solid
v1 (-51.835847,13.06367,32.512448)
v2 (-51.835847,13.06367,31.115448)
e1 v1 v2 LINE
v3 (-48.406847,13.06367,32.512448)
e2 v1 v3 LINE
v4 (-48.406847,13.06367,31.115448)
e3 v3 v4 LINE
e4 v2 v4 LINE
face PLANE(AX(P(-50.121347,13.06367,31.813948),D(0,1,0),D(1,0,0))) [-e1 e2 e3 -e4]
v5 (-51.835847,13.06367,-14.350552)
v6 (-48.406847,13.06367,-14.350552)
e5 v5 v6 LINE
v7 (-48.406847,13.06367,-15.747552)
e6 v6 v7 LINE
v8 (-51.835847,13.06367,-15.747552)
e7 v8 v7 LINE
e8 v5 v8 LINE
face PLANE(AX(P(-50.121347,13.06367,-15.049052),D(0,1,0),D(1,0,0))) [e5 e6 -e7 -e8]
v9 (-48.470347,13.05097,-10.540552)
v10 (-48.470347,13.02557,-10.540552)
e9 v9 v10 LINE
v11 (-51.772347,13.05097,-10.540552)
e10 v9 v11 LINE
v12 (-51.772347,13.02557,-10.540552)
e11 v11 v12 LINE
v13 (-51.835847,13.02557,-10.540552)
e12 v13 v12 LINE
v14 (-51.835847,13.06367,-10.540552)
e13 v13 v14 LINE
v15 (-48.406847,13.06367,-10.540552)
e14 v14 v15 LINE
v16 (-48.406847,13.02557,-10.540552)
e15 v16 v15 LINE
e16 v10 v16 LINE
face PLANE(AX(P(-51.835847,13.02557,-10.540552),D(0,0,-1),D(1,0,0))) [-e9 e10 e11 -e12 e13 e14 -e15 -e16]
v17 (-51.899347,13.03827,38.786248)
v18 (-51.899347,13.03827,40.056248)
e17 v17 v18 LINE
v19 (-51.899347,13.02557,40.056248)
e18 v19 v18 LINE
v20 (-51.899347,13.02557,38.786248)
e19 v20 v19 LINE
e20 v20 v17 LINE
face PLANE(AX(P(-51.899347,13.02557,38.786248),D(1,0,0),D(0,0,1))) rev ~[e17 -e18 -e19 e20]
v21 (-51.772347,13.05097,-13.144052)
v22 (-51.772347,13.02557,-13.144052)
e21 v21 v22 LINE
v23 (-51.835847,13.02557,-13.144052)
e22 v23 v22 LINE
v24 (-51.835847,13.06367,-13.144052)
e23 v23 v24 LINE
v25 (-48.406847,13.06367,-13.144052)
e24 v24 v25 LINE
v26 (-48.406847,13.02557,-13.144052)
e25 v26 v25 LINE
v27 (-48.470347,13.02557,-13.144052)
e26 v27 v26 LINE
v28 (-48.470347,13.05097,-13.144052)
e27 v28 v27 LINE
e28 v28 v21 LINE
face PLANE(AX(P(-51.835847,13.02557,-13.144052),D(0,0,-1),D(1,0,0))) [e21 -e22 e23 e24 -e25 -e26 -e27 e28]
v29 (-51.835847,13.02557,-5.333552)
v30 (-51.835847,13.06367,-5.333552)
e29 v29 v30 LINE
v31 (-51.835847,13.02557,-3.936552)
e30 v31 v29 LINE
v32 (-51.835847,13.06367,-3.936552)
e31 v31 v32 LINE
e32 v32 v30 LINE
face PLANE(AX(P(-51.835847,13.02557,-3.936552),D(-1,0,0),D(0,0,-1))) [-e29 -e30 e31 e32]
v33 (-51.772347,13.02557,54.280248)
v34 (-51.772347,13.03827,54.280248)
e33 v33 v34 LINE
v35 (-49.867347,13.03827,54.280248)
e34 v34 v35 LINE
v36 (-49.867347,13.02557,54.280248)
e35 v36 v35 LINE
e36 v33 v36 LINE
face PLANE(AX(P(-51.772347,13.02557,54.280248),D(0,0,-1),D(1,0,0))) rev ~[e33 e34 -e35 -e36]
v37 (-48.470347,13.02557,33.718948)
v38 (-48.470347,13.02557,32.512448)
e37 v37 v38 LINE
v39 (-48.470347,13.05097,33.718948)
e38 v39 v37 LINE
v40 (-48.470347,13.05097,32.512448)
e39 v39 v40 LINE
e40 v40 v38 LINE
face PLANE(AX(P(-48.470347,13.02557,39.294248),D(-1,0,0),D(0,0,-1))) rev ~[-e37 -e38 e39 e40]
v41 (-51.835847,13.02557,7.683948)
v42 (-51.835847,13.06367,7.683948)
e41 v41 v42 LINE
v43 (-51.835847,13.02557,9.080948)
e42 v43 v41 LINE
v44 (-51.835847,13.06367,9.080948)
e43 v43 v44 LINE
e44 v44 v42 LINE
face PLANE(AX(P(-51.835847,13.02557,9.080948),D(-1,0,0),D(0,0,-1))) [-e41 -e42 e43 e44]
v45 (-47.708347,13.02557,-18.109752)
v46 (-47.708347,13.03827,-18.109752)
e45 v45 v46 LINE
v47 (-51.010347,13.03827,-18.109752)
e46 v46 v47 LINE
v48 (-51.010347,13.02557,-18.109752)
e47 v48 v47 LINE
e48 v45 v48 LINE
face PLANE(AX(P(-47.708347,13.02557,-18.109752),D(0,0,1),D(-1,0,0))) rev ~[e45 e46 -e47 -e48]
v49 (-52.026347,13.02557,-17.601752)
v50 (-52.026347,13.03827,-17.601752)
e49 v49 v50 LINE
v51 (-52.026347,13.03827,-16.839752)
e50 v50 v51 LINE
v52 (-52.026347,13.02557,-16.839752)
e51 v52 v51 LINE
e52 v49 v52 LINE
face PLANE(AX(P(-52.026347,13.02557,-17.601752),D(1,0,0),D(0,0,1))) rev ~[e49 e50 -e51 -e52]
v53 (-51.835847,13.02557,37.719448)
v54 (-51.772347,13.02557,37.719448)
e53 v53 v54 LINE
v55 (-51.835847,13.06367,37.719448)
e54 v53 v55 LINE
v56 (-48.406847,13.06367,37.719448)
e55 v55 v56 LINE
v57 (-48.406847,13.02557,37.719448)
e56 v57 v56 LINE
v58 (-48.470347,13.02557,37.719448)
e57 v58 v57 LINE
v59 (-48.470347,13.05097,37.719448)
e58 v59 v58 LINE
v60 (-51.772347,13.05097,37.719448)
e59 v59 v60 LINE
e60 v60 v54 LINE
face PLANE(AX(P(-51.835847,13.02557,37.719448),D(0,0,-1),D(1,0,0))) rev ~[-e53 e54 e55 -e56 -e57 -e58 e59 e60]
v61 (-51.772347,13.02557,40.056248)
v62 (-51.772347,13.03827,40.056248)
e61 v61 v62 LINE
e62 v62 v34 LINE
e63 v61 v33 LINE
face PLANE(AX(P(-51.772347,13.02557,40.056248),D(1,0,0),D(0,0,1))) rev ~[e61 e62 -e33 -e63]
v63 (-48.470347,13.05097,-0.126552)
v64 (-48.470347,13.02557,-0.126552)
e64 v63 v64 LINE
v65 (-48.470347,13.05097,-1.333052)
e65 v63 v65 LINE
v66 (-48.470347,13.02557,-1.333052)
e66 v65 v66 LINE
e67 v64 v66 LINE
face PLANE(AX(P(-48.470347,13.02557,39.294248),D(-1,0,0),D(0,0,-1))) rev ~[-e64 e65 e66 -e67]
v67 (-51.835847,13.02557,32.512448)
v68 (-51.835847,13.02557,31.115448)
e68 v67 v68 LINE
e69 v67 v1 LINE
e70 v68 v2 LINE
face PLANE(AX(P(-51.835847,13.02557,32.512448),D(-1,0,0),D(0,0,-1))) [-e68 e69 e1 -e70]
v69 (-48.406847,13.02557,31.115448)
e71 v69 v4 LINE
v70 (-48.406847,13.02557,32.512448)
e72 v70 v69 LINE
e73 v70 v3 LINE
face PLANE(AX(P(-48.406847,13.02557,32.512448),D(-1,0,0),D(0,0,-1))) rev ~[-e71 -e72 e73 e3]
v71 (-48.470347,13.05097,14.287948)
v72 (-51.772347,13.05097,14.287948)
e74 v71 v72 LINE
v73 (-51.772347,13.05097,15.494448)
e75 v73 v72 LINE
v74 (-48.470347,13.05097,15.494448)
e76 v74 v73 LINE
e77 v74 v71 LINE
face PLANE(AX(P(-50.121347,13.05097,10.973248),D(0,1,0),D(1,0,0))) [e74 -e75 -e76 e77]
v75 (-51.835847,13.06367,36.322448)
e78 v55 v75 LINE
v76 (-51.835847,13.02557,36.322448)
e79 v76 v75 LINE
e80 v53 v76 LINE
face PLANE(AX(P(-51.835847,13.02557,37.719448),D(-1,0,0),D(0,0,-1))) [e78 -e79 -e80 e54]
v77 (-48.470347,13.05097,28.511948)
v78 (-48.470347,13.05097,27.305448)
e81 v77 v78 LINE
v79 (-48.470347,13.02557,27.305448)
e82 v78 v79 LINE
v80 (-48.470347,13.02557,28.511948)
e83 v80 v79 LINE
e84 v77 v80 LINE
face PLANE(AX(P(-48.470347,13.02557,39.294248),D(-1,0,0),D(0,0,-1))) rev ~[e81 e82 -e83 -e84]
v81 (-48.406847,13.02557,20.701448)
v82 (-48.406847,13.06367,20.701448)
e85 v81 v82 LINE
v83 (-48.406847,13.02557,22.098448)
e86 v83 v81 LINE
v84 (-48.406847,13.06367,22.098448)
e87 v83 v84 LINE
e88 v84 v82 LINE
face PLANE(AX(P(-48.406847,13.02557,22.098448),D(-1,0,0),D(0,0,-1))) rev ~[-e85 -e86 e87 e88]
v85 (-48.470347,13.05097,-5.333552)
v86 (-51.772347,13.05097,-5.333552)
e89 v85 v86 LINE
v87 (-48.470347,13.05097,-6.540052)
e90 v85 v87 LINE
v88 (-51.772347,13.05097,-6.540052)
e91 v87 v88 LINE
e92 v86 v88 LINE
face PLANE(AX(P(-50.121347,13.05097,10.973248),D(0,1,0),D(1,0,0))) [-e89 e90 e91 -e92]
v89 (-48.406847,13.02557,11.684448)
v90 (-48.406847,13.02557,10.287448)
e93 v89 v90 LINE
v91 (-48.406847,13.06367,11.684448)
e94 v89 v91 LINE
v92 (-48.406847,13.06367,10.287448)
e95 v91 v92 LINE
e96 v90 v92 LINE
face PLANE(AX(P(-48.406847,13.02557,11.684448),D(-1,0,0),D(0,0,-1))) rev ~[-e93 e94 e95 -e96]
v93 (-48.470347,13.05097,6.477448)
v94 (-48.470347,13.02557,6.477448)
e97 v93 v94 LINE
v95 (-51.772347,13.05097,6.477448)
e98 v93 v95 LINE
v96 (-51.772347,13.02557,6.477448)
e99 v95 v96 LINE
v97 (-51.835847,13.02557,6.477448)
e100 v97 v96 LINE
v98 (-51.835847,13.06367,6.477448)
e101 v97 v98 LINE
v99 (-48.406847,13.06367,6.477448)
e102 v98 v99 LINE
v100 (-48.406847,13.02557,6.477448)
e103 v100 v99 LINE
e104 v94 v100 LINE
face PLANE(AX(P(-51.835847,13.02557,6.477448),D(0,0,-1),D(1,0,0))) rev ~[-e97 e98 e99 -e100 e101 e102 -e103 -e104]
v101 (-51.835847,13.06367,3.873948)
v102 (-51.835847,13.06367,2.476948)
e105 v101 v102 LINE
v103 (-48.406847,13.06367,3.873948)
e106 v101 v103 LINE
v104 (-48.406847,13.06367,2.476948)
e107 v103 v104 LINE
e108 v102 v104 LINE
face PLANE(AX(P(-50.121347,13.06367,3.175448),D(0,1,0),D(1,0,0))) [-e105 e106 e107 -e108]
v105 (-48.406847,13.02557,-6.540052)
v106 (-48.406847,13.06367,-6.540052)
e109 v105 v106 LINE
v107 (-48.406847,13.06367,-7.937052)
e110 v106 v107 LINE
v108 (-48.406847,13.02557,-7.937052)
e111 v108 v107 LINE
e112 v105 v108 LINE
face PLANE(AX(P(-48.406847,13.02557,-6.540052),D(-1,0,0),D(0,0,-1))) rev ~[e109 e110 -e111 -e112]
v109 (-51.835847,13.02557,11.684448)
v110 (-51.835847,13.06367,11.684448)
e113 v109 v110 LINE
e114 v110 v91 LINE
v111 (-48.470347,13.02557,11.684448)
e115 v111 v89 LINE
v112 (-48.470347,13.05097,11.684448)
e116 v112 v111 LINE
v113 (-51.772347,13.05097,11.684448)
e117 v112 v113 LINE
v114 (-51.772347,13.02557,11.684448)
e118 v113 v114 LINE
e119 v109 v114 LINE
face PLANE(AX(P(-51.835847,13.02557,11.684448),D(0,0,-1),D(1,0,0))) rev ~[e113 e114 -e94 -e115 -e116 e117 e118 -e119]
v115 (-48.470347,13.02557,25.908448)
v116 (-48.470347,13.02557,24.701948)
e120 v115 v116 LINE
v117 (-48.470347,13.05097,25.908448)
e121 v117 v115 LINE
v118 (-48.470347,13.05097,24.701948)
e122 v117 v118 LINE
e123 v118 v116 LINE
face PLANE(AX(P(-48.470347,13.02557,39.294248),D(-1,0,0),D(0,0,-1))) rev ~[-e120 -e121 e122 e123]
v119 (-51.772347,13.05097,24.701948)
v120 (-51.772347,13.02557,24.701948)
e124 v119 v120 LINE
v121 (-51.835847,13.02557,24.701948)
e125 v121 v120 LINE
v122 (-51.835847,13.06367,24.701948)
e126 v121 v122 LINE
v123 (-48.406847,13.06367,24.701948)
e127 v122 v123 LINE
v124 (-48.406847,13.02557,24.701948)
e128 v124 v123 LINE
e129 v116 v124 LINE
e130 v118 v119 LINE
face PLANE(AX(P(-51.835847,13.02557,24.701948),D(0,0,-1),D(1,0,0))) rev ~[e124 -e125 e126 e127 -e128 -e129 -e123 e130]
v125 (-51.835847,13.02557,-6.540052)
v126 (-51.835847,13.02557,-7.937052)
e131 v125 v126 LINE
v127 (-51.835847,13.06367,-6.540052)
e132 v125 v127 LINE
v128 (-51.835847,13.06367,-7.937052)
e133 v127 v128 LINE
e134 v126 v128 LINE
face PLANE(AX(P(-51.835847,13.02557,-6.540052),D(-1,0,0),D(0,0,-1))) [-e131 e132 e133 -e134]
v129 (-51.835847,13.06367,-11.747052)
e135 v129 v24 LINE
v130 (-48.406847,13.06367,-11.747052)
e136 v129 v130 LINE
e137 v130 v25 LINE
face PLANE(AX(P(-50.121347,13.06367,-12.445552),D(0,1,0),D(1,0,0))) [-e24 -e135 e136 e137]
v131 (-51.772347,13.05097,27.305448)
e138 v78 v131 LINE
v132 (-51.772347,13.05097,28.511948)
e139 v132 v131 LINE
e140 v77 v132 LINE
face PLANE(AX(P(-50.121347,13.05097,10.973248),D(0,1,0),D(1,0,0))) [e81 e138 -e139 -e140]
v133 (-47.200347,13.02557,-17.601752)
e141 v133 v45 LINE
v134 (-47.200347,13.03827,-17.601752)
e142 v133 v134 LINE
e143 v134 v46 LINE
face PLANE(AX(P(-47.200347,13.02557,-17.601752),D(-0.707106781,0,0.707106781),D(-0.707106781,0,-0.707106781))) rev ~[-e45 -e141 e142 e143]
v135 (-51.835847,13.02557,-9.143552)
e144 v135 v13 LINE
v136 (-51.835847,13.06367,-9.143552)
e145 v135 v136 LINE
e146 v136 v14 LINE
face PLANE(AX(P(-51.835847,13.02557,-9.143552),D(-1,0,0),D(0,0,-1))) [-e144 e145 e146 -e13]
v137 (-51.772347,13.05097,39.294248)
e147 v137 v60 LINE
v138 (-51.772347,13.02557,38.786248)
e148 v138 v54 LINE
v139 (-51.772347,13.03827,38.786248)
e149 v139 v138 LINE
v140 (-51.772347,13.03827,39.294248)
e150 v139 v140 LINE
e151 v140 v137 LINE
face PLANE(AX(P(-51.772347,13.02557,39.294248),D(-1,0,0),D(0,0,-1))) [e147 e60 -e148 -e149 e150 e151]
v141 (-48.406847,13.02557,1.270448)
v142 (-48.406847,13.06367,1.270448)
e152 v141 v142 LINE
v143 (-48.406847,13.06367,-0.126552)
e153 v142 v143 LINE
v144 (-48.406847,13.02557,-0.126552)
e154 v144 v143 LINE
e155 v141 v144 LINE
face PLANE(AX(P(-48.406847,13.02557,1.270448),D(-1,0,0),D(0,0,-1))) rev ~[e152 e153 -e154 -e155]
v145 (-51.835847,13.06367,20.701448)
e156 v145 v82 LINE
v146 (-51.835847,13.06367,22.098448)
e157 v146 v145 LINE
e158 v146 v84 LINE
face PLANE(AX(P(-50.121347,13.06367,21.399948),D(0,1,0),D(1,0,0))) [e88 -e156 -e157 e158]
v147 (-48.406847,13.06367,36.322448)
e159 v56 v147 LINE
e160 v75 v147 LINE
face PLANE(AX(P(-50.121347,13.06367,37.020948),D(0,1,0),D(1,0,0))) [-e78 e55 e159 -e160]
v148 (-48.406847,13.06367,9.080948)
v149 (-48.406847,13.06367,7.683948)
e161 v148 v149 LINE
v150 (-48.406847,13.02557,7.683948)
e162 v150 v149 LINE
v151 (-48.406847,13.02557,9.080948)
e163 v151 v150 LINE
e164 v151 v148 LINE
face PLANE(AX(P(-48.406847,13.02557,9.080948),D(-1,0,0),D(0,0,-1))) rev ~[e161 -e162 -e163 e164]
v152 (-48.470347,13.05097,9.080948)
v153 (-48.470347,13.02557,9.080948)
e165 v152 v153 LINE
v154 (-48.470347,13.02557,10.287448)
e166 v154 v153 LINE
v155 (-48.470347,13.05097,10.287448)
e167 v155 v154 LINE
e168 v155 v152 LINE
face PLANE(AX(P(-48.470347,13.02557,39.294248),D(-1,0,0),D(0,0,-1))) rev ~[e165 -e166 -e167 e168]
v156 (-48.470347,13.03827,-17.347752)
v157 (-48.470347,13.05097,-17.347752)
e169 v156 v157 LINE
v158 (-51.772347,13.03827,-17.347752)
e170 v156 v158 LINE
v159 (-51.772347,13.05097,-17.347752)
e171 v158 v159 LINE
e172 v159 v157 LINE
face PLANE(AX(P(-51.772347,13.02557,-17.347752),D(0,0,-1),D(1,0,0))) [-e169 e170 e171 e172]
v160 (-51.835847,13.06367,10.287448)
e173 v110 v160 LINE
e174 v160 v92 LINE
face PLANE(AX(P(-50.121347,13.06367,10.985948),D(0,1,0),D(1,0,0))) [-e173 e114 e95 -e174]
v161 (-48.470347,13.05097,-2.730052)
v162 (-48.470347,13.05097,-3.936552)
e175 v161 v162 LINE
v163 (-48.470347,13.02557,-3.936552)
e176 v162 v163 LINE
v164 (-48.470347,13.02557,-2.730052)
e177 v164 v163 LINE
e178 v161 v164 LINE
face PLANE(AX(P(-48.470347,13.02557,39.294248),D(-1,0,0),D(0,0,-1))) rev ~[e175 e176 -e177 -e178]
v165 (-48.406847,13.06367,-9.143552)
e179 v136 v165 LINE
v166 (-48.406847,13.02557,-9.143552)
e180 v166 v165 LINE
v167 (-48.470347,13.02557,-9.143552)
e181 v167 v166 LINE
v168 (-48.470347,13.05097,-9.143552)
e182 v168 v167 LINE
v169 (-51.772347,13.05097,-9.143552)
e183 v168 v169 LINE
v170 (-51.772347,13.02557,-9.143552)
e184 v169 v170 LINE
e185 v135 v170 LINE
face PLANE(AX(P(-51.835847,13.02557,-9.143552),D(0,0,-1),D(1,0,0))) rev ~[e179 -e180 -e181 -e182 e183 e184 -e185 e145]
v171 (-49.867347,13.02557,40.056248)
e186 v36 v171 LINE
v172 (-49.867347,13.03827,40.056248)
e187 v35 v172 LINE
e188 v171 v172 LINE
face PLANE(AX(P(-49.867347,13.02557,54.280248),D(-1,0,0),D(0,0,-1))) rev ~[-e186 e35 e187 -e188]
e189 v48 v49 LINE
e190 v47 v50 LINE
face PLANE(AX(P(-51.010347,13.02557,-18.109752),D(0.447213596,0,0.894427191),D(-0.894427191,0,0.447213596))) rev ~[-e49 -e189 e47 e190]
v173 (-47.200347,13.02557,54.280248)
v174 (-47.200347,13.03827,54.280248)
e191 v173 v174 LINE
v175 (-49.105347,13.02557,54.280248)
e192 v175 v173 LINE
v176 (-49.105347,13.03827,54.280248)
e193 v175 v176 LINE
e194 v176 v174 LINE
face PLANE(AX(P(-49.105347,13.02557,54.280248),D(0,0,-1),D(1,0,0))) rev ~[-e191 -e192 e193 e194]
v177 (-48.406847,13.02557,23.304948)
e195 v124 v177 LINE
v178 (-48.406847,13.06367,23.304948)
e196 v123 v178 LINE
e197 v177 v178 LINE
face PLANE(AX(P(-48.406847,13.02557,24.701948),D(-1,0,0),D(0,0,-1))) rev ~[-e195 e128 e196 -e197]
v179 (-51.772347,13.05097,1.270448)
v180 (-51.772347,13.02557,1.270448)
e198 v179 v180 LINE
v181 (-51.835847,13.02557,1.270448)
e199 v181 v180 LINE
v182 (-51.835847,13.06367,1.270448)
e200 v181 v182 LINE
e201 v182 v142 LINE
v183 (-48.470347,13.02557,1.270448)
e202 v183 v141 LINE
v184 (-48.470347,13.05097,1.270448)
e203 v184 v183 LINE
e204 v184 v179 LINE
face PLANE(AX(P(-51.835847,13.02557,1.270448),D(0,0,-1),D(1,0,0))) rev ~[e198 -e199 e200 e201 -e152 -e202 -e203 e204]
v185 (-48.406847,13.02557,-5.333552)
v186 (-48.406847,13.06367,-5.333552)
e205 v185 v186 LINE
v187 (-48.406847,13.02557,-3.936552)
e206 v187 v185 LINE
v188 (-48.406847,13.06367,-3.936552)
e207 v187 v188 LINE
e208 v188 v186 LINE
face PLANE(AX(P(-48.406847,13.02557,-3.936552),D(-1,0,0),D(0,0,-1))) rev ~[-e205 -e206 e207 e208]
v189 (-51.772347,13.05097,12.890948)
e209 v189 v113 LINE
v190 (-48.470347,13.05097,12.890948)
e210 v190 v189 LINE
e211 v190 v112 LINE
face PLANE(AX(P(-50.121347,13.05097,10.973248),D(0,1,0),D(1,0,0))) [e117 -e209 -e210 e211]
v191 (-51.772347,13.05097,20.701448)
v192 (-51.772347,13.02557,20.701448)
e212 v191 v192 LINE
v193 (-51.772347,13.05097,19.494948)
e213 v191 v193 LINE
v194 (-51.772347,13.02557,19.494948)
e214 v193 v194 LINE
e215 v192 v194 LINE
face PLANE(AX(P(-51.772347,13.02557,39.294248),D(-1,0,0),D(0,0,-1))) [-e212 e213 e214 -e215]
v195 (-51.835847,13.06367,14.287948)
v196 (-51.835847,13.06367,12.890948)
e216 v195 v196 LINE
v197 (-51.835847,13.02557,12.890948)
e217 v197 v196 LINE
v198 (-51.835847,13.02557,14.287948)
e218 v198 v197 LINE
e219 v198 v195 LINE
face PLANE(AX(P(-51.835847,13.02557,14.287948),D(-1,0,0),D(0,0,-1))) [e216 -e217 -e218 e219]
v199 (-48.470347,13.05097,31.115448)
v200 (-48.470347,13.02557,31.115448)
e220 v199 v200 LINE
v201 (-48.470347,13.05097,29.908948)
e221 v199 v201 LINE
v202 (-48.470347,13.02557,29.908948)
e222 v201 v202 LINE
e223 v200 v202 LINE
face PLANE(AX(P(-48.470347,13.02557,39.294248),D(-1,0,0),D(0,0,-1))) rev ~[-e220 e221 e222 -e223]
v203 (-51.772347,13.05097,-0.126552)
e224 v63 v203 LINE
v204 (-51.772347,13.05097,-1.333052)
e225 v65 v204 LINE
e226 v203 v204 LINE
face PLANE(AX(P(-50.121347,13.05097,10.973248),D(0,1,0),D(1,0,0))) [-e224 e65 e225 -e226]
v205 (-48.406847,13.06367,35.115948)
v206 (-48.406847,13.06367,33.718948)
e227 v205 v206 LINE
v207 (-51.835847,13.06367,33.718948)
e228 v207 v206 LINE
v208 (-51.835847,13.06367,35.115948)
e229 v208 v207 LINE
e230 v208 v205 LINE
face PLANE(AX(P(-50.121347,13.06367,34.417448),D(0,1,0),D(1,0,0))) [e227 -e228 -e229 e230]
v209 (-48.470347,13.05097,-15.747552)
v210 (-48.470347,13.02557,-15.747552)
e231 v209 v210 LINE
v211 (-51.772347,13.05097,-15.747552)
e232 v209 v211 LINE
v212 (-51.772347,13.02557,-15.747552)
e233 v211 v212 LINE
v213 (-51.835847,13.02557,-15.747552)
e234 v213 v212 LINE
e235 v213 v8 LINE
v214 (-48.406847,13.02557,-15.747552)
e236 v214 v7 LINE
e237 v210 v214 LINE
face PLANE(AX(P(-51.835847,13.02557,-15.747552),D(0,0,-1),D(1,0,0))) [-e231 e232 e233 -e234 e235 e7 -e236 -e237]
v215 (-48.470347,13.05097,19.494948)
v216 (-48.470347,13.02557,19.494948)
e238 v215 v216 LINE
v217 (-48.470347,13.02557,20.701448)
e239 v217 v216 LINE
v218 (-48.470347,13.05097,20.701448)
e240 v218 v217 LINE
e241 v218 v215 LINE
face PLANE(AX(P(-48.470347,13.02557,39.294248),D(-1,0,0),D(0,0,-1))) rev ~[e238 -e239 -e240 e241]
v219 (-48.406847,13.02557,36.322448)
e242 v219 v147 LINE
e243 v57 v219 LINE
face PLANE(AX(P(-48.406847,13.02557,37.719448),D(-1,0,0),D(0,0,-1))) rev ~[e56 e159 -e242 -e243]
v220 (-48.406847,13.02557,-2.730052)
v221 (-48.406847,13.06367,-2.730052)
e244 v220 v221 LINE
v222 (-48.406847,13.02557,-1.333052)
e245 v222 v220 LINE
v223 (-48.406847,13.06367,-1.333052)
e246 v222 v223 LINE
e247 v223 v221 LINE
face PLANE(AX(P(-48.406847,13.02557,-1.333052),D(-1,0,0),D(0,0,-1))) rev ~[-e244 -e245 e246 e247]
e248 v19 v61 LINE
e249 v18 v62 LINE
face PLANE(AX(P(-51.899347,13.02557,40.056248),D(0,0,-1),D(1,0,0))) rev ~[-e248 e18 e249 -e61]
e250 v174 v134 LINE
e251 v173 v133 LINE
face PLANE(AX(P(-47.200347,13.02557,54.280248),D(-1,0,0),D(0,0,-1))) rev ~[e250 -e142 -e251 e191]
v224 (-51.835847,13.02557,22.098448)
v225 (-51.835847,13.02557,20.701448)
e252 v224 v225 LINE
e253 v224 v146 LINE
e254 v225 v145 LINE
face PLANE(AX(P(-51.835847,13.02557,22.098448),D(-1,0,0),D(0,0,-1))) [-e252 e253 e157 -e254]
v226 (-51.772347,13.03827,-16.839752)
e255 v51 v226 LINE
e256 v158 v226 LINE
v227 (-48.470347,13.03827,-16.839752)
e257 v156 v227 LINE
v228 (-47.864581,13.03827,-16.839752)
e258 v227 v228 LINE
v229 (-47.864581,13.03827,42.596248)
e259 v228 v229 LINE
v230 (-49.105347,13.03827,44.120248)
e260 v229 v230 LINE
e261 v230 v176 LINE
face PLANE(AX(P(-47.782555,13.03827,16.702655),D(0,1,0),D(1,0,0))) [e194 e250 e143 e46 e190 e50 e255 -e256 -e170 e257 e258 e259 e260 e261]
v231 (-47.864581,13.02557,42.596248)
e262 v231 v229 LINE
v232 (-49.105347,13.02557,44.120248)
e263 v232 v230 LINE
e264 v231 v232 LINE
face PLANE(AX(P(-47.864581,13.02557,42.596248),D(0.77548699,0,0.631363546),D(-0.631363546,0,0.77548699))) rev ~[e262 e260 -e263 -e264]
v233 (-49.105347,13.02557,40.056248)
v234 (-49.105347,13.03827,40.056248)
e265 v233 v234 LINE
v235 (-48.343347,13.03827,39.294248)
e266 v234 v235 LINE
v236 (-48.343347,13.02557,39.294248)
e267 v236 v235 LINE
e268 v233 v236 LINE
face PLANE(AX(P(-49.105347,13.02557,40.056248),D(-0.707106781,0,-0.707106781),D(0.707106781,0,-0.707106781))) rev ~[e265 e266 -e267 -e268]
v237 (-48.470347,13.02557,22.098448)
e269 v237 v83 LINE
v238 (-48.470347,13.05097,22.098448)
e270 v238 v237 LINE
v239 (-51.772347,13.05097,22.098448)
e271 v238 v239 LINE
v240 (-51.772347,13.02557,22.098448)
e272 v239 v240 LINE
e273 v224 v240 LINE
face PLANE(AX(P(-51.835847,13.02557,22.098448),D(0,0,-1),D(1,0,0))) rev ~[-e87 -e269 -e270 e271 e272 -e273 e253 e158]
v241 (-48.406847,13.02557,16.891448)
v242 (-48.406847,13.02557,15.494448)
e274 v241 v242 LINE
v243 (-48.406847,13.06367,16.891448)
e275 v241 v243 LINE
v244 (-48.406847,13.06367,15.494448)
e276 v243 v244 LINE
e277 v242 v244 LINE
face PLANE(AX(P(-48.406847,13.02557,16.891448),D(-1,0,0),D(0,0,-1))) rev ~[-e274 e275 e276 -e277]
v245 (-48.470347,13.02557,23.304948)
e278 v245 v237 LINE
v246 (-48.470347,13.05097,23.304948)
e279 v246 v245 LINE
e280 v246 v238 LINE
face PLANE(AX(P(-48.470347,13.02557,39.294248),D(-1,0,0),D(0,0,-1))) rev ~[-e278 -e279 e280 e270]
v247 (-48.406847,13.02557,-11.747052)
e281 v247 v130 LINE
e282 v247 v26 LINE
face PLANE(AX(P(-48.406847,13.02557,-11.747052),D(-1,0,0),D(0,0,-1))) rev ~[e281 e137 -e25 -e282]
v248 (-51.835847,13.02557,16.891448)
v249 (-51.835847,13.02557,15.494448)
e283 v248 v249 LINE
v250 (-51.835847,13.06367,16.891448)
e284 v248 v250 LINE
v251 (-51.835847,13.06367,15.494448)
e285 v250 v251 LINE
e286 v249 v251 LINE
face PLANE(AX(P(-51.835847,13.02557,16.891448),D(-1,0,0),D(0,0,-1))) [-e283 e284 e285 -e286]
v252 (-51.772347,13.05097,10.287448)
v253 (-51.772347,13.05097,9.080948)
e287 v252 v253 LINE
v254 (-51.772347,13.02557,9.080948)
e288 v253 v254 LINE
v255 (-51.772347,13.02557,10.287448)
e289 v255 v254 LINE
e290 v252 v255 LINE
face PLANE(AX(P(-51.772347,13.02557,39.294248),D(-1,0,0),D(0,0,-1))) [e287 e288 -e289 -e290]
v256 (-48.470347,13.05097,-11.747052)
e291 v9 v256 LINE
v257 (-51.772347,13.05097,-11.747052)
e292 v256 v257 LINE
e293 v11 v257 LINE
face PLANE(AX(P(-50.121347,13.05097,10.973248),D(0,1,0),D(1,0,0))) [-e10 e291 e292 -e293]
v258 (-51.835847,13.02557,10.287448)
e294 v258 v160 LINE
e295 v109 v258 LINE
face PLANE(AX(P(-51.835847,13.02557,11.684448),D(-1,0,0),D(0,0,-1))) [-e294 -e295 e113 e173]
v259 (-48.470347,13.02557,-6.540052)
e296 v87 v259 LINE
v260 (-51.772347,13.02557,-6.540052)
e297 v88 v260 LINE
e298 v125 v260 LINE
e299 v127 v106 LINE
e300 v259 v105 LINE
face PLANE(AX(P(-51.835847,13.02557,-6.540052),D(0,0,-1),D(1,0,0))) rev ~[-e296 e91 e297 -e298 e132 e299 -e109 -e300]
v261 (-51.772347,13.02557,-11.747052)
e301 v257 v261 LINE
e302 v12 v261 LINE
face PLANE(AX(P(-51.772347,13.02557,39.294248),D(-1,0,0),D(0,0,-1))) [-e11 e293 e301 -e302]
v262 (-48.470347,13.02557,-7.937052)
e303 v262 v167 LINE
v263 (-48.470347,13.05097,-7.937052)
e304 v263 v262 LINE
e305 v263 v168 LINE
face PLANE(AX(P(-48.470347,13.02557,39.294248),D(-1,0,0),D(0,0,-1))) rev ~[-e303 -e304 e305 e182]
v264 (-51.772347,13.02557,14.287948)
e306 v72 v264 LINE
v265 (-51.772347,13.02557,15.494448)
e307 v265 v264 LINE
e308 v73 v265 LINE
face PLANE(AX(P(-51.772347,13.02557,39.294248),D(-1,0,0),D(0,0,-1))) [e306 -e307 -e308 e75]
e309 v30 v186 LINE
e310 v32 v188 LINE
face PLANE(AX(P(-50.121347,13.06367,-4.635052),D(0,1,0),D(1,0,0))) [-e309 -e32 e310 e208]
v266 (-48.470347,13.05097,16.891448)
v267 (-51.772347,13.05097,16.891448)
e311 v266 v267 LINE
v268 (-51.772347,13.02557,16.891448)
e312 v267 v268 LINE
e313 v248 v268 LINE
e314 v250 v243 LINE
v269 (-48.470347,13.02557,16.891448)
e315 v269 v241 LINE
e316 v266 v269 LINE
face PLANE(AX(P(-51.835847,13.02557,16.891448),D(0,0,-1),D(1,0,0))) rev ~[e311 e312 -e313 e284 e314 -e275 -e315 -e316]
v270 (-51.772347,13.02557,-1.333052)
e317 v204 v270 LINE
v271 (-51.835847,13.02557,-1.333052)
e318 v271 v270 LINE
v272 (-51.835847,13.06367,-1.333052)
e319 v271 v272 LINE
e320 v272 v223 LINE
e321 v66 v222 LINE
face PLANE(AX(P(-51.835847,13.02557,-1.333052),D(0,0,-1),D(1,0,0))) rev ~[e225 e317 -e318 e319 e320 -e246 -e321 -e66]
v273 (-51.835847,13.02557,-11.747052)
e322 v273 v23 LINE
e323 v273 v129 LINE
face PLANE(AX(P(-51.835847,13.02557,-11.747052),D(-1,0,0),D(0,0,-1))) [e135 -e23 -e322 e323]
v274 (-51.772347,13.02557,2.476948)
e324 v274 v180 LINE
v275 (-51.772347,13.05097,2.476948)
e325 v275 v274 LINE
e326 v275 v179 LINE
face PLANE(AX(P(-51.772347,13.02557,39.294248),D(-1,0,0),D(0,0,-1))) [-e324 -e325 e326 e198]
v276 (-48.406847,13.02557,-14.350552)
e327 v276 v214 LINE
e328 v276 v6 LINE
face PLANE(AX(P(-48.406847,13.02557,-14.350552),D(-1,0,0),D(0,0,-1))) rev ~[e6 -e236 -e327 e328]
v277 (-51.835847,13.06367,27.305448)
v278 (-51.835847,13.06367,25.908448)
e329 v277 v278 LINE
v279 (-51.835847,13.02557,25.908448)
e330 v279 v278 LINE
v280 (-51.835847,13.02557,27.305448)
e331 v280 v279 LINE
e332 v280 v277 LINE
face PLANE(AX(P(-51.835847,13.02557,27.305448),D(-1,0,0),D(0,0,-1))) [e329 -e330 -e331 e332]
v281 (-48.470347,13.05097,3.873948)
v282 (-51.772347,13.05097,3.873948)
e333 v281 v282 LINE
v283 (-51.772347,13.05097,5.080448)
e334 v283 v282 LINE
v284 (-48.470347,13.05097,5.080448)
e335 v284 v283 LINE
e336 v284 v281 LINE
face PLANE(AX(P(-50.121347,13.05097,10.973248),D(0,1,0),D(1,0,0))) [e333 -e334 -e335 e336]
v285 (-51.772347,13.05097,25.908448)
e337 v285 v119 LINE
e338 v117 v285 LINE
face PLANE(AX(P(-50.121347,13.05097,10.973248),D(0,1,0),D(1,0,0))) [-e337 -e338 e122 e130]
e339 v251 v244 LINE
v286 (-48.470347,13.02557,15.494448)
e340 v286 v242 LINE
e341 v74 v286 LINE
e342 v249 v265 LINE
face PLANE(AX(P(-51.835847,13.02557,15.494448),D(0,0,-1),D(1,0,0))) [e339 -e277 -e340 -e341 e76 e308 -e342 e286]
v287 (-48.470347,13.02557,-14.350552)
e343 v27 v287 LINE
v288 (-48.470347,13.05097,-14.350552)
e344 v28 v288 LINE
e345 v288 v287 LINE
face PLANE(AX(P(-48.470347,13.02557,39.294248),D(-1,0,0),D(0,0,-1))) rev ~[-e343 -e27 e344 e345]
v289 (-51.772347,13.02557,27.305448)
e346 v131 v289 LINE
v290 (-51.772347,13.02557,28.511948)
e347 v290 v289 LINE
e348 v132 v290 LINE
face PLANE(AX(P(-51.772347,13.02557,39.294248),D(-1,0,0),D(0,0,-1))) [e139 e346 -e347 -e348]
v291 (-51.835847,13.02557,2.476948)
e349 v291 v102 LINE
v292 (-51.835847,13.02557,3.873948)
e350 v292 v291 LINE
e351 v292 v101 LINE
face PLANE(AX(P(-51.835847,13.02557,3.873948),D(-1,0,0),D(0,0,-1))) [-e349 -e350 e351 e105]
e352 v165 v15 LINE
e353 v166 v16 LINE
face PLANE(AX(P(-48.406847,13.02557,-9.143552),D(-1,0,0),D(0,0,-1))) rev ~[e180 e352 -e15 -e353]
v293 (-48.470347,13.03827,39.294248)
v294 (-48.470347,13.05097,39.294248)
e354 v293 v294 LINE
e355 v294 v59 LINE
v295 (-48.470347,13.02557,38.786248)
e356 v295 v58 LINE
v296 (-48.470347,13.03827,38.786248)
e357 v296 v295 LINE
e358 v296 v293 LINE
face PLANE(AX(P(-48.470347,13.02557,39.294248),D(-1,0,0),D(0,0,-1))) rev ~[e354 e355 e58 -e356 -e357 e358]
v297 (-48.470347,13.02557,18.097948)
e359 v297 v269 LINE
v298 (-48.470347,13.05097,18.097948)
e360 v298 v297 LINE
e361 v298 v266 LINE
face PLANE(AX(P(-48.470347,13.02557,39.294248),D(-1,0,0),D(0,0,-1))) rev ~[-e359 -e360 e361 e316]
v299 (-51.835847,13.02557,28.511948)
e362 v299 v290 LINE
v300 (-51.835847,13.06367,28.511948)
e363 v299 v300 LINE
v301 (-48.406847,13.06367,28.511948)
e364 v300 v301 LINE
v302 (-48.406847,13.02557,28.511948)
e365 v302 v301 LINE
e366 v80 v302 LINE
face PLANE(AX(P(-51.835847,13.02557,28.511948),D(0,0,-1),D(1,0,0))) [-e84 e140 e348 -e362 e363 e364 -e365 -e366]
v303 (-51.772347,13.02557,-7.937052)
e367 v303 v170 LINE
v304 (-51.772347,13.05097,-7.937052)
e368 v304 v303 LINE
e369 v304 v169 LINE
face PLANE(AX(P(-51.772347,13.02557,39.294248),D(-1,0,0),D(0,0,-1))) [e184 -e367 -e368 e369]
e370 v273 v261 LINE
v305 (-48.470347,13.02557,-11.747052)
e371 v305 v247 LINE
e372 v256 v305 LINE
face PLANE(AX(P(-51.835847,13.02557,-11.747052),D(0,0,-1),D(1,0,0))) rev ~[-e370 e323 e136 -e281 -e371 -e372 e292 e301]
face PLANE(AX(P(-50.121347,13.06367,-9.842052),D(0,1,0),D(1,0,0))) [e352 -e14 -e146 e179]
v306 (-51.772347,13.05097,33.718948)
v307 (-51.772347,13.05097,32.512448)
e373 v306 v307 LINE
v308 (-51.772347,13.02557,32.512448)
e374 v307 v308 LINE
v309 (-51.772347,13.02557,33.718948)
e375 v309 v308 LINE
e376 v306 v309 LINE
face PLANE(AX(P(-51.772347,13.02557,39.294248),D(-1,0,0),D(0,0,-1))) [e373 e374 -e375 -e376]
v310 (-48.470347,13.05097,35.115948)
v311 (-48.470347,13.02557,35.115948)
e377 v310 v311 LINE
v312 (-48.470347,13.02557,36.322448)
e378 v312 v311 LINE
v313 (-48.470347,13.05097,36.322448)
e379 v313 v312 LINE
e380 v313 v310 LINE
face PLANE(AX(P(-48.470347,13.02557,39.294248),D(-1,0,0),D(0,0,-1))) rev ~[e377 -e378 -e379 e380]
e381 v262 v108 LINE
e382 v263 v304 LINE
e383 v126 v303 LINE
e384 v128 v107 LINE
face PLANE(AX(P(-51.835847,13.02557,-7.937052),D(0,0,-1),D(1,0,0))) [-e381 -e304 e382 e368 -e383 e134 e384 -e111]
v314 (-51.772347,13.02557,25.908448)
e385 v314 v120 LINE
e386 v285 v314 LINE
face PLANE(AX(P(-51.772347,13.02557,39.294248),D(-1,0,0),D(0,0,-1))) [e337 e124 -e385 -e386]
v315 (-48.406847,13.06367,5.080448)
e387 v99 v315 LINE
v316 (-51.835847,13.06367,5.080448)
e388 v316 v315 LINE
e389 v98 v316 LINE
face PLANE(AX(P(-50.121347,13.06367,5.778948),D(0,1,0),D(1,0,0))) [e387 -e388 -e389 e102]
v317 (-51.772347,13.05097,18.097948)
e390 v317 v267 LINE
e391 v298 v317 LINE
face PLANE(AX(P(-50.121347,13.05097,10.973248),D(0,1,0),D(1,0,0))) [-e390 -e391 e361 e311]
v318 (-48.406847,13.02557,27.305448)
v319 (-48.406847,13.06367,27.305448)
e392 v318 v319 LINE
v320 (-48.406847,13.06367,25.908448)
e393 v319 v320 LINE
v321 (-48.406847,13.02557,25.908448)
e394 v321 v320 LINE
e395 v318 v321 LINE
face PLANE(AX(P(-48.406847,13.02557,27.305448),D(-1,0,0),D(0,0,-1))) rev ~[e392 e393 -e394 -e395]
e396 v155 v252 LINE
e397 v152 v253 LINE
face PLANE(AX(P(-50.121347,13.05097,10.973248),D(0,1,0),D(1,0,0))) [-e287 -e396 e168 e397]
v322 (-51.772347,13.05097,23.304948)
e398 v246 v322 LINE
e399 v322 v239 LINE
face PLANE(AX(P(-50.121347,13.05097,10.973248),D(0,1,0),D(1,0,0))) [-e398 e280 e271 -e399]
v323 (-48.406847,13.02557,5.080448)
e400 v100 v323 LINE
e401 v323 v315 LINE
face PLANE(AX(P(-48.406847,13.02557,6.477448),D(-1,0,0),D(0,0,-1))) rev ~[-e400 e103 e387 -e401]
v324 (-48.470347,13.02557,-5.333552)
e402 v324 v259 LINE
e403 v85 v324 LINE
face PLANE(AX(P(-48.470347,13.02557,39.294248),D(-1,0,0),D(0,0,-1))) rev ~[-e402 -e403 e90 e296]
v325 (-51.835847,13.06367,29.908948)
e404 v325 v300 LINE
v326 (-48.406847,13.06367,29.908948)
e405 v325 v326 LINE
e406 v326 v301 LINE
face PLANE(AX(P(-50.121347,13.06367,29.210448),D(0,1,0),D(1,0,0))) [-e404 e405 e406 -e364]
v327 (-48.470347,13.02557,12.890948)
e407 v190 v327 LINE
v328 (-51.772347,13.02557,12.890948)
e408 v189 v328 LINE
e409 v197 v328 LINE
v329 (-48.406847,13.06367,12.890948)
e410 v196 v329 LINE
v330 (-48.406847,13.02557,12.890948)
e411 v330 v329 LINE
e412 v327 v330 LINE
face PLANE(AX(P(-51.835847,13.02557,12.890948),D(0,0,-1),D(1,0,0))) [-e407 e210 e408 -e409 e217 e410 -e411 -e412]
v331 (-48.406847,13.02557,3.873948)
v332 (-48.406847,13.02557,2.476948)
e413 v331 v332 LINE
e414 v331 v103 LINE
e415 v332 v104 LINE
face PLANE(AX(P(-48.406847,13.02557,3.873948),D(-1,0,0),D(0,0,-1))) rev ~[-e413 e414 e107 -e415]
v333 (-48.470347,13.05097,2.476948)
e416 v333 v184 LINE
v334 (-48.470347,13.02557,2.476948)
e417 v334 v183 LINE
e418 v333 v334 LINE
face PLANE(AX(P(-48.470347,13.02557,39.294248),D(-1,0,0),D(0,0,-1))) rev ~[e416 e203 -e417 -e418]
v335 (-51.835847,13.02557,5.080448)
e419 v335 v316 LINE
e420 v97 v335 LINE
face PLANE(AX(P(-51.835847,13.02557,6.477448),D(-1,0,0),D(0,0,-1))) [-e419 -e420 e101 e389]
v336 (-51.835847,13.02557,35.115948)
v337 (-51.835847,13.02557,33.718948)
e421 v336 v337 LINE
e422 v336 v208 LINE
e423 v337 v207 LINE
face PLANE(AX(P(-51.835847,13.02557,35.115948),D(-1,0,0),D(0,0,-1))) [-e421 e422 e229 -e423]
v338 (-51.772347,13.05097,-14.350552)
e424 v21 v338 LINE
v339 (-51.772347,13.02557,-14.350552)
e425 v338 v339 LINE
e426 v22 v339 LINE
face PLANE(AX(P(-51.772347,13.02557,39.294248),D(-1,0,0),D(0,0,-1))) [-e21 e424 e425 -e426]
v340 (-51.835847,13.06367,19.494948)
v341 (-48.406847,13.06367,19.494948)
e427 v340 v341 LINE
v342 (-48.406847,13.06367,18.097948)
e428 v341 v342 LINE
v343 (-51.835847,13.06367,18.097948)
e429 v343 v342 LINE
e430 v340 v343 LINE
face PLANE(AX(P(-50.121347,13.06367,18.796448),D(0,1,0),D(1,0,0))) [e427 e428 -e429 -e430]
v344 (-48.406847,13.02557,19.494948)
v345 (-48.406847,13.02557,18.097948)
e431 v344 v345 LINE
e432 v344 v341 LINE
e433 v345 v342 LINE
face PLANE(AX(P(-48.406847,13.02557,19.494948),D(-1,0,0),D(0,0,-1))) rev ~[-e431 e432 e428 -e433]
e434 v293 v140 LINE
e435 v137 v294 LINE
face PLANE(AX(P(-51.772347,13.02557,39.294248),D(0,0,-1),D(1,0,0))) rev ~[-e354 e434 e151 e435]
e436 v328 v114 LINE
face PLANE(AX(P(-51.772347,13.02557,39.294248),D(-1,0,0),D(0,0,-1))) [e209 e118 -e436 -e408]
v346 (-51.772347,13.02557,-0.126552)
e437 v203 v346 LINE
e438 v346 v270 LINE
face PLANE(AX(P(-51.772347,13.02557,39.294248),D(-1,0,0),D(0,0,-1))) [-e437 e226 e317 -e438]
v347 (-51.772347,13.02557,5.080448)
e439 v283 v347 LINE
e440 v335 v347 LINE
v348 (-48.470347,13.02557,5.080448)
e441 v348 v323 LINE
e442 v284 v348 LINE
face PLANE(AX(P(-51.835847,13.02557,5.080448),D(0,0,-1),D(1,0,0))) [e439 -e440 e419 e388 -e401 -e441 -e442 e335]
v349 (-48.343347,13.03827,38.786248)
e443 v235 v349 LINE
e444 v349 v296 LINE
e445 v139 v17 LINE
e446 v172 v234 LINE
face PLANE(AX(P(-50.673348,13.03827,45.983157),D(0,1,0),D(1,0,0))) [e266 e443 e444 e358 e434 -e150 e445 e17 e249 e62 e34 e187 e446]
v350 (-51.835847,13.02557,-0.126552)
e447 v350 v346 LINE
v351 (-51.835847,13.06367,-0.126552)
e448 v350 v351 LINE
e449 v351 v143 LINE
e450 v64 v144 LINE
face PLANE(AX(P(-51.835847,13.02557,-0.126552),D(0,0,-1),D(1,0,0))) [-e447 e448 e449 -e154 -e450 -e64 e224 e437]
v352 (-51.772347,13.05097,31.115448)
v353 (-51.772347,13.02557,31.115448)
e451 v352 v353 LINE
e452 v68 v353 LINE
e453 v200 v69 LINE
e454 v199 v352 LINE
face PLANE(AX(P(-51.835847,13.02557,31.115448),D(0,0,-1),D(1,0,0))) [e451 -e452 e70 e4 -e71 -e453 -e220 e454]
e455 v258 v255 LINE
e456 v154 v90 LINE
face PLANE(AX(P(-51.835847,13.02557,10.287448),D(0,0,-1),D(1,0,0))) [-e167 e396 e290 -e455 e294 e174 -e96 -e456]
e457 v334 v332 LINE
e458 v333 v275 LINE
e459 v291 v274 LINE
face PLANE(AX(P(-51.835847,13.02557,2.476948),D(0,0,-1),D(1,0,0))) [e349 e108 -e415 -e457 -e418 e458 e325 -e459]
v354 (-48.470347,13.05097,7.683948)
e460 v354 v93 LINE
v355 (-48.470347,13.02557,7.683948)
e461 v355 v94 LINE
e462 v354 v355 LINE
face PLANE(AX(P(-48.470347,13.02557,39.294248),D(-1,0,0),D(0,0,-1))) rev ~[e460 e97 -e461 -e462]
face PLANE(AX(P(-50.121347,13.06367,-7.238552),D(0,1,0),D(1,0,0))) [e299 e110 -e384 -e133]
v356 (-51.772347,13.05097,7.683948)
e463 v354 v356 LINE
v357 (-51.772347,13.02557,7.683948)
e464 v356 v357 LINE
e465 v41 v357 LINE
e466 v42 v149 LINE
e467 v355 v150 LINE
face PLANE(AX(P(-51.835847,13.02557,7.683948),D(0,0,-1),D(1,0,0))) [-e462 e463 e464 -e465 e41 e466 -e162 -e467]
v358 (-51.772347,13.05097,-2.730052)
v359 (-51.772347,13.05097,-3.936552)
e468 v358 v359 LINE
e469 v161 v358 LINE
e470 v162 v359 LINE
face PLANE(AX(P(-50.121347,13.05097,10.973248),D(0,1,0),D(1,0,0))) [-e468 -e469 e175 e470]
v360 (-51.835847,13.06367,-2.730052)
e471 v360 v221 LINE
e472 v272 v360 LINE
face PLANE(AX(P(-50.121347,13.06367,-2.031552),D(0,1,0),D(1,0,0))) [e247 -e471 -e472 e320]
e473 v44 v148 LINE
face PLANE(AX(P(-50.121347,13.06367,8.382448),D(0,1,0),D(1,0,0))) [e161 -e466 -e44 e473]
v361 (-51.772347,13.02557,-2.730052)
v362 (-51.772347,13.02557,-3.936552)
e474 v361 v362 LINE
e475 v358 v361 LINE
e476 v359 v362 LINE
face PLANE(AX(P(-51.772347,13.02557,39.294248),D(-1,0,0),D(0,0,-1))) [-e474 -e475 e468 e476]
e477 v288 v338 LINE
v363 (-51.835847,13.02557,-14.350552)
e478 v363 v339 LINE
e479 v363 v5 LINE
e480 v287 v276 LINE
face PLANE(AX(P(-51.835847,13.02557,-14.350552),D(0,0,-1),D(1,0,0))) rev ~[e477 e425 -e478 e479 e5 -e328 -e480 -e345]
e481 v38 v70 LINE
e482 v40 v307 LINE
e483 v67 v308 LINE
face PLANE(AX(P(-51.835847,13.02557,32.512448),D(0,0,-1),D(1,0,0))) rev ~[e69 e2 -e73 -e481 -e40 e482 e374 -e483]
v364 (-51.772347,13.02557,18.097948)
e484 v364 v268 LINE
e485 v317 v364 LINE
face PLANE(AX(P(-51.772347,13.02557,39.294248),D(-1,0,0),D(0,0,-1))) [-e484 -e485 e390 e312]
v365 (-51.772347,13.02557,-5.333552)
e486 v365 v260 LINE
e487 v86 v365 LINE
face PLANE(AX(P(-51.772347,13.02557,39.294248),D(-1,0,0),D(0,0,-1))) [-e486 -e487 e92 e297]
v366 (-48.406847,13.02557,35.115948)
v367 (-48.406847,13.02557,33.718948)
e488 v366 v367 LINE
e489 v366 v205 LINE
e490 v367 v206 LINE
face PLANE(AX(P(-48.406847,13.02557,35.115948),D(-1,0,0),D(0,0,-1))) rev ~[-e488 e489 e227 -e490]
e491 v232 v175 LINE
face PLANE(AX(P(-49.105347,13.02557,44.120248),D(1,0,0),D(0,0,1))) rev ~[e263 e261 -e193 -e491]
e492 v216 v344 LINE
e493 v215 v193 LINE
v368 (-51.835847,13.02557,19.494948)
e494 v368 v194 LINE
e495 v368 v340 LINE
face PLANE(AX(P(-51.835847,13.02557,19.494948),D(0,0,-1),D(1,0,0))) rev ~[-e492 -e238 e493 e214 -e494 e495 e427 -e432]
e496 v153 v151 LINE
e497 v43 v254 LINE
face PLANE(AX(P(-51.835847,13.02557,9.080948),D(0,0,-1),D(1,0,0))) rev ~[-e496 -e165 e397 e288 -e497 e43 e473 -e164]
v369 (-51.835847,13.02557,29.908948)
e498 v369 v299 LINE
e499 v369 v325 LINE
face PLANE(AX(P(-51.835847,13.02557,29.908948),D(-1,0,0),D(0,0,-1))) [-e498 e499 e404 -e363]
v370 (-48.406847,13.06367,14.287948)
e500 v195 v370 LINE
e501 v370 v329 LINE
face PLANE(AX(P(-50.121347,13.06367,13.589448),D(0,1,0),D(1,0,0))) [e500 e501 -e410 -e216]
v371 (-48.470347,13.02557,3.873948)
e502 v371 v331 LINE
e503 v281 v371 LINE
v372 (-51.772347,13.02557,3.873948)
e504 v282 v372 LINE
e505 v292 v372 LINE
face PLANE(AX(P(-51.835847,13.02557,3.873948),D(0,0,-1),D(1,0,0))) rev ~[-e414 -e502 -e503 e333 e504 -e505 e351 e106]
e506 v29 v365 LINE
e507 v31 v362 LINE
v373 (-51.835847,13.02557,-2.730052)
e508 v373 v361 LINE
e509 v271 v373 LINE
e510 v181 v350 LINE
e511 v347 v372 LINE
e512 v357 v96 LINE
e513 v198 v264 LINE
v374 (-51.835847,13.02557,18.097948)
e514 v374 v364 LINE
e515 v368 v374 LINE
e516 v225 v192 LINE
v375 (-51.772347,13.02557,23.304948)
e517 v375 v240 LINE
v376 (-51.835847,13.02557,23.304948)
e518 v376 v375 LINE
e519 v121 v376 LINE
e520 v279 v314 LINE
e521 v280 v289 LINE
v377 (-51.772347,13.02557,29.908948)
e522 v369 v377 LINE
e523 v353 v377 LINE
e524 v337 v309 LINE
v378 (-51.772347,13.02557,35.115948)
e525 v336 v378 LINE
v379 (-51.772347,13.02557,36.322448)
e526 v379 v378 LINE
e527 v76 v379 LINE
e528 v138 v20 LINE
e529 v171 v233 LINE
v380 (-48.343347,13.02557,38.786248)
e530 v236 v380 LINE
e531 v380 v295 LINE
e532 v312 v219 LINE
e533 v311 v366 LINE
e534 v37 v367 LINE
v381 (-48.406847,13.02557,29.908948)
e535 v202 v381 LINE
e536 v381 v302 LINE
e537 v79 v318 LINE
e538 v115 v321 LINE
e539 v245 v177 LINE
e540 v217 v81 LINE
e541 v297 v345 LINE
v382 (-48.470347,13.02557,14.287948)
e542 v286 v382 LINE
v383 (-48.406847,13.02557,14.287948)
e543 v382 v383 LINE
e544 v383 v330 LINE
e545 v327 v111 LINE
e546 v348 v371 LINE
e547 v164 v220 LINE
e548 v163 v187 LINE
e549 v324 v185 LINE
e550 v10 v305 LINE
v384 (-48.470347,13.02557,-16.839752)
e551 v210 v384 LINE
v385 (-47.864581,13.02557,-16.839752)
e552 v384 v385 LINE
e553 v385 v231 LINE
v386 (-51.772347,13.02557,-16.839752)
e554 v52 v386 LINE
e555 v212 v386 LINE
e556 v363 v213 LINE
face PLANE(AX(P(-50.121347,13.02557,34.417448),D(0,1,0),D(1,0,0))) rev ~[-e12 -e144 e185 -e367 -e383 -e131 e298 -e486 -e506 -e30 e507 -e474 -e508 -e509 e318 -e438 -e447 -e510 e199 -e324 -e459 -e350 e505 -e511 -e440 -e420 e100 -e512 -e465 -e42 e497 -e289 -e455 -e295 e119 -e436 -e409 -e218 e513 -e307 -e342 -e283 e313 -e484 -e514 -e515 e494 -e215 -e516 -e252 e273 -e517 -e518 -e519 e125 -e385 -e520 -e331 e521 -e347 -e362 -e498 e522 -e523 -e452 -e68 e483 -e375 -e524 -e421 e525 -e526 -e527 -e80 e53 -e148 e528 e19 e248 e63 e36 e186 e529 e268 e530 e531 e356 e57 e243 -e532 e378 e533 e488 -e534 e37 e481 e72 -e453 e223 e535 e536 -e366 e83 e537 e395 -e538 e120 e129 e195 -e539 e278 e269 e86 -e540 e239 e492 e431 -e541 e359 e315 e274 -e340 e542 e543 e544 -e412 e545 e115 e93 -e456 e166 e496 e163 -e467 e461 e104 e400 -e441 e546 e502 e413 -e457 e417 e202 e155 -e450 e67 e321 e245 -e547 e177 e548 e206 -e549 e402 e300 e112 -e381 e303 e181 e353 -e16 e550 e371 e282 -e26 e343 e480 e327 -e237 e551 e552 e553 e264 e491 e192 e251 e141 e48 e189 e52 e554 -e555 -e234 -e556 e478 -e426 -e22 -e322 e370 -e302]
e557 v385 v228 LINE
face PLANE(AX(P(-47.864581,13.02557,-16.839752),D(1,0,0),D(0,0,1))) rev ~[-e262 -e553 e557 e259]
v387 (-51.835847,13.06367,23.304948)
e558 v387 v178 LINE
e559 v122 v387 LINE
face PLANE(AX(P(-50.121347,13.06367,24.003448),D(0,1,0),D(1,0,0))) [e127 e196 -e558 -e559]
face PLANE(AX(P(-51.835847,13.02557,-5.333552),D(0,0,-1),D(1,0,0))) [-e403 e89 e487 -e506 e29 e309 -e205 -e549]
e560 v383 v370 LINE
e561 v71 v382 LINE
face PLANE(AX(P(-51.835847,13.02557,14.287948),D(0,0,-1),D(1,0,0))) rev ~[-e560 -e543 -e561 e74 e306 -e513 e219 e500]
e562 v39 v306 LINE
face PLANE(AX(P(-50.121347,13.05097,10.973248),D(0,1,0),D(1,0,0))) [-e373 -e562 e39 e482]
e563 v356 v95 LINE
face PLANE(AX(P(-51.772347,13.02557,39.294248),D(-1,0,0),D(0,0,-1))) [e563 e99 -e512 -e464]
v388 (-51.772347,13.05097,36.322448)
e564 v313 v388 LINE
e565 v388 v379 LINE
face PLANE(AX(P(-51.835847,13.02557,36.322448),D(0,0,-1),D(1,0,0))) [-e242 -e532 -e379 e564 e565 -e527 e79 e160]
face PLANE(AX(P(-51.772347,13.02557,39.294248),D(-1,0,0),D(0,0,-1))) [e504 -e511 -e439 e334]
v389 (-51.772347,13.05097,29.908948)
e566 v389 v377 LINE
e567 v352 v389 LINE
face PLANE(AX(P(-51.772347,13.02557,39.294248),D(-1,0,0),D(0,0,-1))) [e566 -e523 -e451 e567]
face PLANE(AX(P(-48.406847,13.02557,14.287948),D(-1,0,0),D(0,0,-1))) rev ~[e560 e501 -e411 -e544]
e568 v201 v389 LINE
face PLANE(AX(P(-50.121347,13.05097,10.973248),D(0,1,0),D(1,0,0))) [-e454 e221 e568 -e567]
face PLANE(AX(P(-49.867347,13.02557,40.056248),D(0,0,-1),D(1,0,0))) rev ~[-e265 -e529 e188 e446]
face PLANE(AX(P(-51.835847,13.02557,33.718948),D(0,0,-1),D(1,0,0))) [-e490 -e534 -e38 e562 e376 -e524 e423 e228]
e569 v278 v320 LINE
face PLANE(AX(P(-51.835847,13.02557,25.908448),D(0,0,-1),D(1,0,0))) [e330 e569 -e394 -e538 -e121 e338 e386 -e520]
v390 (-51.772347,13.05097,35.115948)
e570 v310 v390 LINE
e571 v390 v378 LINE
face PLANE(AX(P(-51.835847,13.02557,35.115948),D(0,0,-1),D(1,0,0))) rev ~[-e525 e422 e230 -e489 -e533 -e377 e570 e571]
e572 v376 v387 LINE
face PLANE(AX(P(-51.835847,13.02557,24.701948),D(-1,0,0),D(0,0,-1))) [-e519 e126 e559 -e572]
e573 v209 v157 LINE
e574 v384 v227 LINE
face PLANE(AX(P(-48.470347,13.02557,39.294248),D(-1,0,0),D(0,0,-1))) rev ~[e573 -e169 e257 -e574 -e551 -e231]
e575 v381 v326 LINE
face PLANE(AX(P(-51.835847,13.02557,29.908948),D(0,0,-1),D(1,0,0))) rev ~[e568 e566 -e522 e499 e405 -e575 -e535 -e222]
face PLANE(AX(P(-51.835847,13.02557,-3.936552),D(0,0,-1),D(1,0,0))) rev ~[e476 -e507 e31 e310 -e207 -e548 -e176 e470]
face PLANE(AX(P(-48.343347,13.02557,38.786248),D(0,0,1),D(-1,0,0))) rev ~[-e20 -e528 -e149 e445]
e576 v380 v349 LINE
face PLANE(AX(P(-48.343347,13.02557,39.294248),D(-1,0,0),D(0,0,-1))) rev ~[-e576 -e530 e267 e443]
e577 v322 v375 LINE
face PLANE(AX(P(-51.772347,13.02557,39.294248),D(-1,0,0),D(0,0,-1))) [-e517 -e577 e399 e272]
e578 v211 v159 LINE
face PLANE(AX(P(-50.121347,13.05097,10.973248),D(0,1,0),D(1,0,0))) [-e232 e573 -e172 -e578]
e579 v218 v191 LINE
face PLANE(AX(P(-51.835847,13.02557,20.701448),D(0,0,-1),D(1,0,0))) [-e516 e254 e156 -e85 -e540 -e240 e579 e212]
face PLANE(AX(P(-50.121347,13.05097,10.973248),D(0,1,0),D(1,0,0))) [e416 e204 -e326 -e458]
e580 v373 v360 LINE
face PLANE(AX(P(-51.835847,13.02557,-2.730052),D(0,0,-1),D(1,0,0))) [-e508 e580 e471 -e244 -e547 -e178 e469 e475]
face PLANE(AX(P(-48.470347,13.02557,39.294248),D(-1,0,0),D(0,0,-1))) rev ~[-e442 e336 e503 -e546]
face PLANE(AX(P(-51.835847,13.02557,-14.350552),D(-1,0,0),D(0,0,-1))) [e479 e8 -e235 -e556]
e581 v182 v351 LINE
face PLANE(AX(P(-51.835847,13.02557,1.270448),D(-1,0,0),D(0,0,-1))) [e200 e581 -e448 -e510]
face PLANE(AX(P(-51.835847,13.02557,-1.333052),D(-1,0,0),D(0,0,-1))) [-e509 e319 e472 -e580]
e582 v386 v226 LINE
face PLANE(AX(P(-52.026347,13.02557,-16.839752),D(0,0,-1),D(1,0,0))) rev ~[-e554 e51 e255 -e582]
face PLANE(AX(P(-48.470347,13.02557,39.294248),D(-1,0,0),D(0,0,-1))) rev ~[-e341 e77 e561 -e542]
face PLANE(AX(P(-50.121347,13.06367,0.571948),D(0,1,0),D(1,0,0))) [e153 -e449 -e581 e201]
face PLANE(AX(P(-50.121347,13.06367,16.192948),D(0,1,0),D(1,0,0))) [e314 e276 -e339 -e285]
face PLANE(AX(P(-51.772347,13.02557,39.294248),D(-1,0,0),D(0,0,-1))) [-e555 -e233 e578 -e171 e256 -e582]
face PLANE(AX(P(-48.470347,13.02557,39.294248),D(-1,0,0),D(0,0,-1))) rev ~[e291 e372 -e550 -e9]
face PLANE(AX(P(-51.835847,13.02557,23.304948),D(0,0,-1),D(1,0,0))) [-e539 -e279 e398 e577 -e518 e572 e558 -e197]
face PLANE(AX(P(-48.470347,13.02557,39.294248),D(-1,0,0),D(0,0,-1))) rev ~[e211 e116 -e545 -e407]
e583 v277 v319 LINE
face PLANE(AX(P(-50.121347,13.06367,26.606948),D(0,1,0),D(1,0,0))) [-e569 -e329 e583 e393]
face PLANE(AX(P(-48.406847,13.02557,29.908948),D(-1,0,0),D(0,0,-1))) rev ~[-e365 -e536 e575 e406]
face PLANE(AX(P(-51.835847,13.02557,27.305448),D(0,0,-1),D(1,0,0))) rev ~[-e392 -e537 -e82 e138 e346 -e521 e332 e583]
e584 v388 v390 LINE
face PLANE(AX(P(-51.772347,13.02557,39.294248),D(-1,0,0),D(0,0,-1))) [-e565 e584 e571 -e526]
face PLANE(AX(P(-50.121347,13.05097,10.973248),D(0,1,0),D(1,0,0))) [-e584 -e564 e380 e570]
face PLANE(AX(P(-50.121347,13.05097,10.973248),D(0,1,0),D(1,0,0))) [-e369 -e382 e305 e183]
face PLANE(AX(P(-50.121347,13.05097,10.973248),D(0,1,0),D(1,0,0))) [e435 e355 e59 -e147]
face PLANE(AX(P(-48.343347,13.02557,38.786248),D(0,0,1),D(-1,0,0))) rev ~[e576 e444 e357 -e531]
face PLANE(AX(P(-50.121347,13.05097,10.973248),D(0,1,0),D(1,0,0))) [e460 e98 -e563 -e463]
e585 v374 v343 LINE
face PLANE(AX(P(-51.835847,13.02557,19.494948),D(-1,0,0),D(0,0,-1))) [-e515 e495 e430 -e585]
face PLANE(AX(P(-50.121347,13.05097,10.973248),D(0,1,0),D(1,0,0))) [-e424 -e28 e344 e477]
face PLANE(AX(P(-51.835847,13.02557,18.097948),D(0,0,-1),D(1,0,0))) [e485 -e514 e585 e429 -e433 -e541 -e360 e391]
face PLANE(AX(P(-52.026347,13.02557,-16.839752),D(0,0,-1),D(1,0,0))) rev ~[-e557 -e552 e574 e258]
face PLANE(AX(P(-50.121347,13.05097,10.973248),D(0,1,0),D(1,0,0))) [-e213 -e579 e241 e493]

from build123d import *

# Parameters (mm, degrees)
BOSS_EXTRUDE1_DEPTH   = 0.0127
BOSS_EXTRUDE1_2_DEPTH = 0.0127
SKETCH2_W             = 3.302
SKETCH2_H             = 56.642
BOSS_EXTRUDE2_DEPTH   = 0.0254
SKETCH3_W             = 3.429
SKETCH3_H             = 1.397
BOSS_EXTRUDE3_DEPTH   = 0.0381
LPATTERN1_COUNT       = 21
LPATTERN1_PITCH       = 2.6035


with BuildPart() as part:
    # Sketch1 → Boss-Extrude1 (new body)
    with BuildSketch(Plane(origin=(0, 13.025569655, 0), x_dir=(1, 0, 0), z_dir=(0, 1, 0))):
        Polygon((-49.105346889, -54.280248144), (-47.200346889, -54.280248144), (-47.200346889, -44.120248144), (-47.200346889, -42.596248144), (-47.200346889, 16.839751856), (-47.200346889, 17.601751856), (-47.708346889, 18.109751856), (-51.010346889, 18.109751856), (-52.026346889, 17.601751856), (-52.026346889, 16.839751856), (-47.864580691, 16.839751856), (-47.864580691, -42.596248144), (-49.105346889, -44.120248144), align=None)
    extrude(amount=BOSS_EXTRUDE1_DEPTH)



with BuildPart() as body_2:
    # Sketch1 → Boss-Extrude1 2 (new body)
    with BuildSketch(Plane(origin=(0, 13.025569655, 0), x_dir=(1, 0, 0), z_dir=(0, 1, 0))):
        Polygon((-49.867346889, -40.056248144), (-49.105346889, -40.056248144), (-48.343346889, -39.294248144), (-48.343346889, -38.786248144), (-51.899346889, -38.786248144), (-51.899346889, -40.056248144), (-51.772346889, -40.056248144), (-51.772346889, -54.280248144), (-49.867346889, -54.280248144), align=None)
    extrude(amount=BOSS_EXTRUDE1_2_DEPTH)


with BuildPart() as part_1:
    add(part.part)

    add(body_2.part)  # Boss-Extrude2 merges body 2
    # Sketch2 → Boss-Extrude2 (add)
    with BuildSketch(Plane(origin=(0, 13.025569655, 0), x_dir=(1, 0, 0), z_dir=(0, 1, 0))):
        with Locations((-50.121346889, -10.973248144)):
            Rectangle(SKETCH2_W, SKETCH2_H)
    extrude(amount=BOSS_EXTRUDE2_DEPTH)

    # Sketch3 → Boss-Extrude3 (add)
    with BuildSketch(Plane(origin=(0, 13.025569655, 0), x_dir=(1, 0, 0), z_dir=(0, 1, 0))):
        with Locations((-50.121346889, -37.020948144)):
            Rectangle(SKETCH3_W, SKETCH3_H)
    boss_extrude3 = extrude(amount=BOSS_EXTRUDE3_DEPTH)

    # LPattern1: Boss-Extrude3 ×21
    with Locations(*[(0, 0, -i * LPATTERN1_PITCH) for i in range(1, LPATTERN1_COUNT)]):
        add(boss_extrude3)


solid = part_1.part
